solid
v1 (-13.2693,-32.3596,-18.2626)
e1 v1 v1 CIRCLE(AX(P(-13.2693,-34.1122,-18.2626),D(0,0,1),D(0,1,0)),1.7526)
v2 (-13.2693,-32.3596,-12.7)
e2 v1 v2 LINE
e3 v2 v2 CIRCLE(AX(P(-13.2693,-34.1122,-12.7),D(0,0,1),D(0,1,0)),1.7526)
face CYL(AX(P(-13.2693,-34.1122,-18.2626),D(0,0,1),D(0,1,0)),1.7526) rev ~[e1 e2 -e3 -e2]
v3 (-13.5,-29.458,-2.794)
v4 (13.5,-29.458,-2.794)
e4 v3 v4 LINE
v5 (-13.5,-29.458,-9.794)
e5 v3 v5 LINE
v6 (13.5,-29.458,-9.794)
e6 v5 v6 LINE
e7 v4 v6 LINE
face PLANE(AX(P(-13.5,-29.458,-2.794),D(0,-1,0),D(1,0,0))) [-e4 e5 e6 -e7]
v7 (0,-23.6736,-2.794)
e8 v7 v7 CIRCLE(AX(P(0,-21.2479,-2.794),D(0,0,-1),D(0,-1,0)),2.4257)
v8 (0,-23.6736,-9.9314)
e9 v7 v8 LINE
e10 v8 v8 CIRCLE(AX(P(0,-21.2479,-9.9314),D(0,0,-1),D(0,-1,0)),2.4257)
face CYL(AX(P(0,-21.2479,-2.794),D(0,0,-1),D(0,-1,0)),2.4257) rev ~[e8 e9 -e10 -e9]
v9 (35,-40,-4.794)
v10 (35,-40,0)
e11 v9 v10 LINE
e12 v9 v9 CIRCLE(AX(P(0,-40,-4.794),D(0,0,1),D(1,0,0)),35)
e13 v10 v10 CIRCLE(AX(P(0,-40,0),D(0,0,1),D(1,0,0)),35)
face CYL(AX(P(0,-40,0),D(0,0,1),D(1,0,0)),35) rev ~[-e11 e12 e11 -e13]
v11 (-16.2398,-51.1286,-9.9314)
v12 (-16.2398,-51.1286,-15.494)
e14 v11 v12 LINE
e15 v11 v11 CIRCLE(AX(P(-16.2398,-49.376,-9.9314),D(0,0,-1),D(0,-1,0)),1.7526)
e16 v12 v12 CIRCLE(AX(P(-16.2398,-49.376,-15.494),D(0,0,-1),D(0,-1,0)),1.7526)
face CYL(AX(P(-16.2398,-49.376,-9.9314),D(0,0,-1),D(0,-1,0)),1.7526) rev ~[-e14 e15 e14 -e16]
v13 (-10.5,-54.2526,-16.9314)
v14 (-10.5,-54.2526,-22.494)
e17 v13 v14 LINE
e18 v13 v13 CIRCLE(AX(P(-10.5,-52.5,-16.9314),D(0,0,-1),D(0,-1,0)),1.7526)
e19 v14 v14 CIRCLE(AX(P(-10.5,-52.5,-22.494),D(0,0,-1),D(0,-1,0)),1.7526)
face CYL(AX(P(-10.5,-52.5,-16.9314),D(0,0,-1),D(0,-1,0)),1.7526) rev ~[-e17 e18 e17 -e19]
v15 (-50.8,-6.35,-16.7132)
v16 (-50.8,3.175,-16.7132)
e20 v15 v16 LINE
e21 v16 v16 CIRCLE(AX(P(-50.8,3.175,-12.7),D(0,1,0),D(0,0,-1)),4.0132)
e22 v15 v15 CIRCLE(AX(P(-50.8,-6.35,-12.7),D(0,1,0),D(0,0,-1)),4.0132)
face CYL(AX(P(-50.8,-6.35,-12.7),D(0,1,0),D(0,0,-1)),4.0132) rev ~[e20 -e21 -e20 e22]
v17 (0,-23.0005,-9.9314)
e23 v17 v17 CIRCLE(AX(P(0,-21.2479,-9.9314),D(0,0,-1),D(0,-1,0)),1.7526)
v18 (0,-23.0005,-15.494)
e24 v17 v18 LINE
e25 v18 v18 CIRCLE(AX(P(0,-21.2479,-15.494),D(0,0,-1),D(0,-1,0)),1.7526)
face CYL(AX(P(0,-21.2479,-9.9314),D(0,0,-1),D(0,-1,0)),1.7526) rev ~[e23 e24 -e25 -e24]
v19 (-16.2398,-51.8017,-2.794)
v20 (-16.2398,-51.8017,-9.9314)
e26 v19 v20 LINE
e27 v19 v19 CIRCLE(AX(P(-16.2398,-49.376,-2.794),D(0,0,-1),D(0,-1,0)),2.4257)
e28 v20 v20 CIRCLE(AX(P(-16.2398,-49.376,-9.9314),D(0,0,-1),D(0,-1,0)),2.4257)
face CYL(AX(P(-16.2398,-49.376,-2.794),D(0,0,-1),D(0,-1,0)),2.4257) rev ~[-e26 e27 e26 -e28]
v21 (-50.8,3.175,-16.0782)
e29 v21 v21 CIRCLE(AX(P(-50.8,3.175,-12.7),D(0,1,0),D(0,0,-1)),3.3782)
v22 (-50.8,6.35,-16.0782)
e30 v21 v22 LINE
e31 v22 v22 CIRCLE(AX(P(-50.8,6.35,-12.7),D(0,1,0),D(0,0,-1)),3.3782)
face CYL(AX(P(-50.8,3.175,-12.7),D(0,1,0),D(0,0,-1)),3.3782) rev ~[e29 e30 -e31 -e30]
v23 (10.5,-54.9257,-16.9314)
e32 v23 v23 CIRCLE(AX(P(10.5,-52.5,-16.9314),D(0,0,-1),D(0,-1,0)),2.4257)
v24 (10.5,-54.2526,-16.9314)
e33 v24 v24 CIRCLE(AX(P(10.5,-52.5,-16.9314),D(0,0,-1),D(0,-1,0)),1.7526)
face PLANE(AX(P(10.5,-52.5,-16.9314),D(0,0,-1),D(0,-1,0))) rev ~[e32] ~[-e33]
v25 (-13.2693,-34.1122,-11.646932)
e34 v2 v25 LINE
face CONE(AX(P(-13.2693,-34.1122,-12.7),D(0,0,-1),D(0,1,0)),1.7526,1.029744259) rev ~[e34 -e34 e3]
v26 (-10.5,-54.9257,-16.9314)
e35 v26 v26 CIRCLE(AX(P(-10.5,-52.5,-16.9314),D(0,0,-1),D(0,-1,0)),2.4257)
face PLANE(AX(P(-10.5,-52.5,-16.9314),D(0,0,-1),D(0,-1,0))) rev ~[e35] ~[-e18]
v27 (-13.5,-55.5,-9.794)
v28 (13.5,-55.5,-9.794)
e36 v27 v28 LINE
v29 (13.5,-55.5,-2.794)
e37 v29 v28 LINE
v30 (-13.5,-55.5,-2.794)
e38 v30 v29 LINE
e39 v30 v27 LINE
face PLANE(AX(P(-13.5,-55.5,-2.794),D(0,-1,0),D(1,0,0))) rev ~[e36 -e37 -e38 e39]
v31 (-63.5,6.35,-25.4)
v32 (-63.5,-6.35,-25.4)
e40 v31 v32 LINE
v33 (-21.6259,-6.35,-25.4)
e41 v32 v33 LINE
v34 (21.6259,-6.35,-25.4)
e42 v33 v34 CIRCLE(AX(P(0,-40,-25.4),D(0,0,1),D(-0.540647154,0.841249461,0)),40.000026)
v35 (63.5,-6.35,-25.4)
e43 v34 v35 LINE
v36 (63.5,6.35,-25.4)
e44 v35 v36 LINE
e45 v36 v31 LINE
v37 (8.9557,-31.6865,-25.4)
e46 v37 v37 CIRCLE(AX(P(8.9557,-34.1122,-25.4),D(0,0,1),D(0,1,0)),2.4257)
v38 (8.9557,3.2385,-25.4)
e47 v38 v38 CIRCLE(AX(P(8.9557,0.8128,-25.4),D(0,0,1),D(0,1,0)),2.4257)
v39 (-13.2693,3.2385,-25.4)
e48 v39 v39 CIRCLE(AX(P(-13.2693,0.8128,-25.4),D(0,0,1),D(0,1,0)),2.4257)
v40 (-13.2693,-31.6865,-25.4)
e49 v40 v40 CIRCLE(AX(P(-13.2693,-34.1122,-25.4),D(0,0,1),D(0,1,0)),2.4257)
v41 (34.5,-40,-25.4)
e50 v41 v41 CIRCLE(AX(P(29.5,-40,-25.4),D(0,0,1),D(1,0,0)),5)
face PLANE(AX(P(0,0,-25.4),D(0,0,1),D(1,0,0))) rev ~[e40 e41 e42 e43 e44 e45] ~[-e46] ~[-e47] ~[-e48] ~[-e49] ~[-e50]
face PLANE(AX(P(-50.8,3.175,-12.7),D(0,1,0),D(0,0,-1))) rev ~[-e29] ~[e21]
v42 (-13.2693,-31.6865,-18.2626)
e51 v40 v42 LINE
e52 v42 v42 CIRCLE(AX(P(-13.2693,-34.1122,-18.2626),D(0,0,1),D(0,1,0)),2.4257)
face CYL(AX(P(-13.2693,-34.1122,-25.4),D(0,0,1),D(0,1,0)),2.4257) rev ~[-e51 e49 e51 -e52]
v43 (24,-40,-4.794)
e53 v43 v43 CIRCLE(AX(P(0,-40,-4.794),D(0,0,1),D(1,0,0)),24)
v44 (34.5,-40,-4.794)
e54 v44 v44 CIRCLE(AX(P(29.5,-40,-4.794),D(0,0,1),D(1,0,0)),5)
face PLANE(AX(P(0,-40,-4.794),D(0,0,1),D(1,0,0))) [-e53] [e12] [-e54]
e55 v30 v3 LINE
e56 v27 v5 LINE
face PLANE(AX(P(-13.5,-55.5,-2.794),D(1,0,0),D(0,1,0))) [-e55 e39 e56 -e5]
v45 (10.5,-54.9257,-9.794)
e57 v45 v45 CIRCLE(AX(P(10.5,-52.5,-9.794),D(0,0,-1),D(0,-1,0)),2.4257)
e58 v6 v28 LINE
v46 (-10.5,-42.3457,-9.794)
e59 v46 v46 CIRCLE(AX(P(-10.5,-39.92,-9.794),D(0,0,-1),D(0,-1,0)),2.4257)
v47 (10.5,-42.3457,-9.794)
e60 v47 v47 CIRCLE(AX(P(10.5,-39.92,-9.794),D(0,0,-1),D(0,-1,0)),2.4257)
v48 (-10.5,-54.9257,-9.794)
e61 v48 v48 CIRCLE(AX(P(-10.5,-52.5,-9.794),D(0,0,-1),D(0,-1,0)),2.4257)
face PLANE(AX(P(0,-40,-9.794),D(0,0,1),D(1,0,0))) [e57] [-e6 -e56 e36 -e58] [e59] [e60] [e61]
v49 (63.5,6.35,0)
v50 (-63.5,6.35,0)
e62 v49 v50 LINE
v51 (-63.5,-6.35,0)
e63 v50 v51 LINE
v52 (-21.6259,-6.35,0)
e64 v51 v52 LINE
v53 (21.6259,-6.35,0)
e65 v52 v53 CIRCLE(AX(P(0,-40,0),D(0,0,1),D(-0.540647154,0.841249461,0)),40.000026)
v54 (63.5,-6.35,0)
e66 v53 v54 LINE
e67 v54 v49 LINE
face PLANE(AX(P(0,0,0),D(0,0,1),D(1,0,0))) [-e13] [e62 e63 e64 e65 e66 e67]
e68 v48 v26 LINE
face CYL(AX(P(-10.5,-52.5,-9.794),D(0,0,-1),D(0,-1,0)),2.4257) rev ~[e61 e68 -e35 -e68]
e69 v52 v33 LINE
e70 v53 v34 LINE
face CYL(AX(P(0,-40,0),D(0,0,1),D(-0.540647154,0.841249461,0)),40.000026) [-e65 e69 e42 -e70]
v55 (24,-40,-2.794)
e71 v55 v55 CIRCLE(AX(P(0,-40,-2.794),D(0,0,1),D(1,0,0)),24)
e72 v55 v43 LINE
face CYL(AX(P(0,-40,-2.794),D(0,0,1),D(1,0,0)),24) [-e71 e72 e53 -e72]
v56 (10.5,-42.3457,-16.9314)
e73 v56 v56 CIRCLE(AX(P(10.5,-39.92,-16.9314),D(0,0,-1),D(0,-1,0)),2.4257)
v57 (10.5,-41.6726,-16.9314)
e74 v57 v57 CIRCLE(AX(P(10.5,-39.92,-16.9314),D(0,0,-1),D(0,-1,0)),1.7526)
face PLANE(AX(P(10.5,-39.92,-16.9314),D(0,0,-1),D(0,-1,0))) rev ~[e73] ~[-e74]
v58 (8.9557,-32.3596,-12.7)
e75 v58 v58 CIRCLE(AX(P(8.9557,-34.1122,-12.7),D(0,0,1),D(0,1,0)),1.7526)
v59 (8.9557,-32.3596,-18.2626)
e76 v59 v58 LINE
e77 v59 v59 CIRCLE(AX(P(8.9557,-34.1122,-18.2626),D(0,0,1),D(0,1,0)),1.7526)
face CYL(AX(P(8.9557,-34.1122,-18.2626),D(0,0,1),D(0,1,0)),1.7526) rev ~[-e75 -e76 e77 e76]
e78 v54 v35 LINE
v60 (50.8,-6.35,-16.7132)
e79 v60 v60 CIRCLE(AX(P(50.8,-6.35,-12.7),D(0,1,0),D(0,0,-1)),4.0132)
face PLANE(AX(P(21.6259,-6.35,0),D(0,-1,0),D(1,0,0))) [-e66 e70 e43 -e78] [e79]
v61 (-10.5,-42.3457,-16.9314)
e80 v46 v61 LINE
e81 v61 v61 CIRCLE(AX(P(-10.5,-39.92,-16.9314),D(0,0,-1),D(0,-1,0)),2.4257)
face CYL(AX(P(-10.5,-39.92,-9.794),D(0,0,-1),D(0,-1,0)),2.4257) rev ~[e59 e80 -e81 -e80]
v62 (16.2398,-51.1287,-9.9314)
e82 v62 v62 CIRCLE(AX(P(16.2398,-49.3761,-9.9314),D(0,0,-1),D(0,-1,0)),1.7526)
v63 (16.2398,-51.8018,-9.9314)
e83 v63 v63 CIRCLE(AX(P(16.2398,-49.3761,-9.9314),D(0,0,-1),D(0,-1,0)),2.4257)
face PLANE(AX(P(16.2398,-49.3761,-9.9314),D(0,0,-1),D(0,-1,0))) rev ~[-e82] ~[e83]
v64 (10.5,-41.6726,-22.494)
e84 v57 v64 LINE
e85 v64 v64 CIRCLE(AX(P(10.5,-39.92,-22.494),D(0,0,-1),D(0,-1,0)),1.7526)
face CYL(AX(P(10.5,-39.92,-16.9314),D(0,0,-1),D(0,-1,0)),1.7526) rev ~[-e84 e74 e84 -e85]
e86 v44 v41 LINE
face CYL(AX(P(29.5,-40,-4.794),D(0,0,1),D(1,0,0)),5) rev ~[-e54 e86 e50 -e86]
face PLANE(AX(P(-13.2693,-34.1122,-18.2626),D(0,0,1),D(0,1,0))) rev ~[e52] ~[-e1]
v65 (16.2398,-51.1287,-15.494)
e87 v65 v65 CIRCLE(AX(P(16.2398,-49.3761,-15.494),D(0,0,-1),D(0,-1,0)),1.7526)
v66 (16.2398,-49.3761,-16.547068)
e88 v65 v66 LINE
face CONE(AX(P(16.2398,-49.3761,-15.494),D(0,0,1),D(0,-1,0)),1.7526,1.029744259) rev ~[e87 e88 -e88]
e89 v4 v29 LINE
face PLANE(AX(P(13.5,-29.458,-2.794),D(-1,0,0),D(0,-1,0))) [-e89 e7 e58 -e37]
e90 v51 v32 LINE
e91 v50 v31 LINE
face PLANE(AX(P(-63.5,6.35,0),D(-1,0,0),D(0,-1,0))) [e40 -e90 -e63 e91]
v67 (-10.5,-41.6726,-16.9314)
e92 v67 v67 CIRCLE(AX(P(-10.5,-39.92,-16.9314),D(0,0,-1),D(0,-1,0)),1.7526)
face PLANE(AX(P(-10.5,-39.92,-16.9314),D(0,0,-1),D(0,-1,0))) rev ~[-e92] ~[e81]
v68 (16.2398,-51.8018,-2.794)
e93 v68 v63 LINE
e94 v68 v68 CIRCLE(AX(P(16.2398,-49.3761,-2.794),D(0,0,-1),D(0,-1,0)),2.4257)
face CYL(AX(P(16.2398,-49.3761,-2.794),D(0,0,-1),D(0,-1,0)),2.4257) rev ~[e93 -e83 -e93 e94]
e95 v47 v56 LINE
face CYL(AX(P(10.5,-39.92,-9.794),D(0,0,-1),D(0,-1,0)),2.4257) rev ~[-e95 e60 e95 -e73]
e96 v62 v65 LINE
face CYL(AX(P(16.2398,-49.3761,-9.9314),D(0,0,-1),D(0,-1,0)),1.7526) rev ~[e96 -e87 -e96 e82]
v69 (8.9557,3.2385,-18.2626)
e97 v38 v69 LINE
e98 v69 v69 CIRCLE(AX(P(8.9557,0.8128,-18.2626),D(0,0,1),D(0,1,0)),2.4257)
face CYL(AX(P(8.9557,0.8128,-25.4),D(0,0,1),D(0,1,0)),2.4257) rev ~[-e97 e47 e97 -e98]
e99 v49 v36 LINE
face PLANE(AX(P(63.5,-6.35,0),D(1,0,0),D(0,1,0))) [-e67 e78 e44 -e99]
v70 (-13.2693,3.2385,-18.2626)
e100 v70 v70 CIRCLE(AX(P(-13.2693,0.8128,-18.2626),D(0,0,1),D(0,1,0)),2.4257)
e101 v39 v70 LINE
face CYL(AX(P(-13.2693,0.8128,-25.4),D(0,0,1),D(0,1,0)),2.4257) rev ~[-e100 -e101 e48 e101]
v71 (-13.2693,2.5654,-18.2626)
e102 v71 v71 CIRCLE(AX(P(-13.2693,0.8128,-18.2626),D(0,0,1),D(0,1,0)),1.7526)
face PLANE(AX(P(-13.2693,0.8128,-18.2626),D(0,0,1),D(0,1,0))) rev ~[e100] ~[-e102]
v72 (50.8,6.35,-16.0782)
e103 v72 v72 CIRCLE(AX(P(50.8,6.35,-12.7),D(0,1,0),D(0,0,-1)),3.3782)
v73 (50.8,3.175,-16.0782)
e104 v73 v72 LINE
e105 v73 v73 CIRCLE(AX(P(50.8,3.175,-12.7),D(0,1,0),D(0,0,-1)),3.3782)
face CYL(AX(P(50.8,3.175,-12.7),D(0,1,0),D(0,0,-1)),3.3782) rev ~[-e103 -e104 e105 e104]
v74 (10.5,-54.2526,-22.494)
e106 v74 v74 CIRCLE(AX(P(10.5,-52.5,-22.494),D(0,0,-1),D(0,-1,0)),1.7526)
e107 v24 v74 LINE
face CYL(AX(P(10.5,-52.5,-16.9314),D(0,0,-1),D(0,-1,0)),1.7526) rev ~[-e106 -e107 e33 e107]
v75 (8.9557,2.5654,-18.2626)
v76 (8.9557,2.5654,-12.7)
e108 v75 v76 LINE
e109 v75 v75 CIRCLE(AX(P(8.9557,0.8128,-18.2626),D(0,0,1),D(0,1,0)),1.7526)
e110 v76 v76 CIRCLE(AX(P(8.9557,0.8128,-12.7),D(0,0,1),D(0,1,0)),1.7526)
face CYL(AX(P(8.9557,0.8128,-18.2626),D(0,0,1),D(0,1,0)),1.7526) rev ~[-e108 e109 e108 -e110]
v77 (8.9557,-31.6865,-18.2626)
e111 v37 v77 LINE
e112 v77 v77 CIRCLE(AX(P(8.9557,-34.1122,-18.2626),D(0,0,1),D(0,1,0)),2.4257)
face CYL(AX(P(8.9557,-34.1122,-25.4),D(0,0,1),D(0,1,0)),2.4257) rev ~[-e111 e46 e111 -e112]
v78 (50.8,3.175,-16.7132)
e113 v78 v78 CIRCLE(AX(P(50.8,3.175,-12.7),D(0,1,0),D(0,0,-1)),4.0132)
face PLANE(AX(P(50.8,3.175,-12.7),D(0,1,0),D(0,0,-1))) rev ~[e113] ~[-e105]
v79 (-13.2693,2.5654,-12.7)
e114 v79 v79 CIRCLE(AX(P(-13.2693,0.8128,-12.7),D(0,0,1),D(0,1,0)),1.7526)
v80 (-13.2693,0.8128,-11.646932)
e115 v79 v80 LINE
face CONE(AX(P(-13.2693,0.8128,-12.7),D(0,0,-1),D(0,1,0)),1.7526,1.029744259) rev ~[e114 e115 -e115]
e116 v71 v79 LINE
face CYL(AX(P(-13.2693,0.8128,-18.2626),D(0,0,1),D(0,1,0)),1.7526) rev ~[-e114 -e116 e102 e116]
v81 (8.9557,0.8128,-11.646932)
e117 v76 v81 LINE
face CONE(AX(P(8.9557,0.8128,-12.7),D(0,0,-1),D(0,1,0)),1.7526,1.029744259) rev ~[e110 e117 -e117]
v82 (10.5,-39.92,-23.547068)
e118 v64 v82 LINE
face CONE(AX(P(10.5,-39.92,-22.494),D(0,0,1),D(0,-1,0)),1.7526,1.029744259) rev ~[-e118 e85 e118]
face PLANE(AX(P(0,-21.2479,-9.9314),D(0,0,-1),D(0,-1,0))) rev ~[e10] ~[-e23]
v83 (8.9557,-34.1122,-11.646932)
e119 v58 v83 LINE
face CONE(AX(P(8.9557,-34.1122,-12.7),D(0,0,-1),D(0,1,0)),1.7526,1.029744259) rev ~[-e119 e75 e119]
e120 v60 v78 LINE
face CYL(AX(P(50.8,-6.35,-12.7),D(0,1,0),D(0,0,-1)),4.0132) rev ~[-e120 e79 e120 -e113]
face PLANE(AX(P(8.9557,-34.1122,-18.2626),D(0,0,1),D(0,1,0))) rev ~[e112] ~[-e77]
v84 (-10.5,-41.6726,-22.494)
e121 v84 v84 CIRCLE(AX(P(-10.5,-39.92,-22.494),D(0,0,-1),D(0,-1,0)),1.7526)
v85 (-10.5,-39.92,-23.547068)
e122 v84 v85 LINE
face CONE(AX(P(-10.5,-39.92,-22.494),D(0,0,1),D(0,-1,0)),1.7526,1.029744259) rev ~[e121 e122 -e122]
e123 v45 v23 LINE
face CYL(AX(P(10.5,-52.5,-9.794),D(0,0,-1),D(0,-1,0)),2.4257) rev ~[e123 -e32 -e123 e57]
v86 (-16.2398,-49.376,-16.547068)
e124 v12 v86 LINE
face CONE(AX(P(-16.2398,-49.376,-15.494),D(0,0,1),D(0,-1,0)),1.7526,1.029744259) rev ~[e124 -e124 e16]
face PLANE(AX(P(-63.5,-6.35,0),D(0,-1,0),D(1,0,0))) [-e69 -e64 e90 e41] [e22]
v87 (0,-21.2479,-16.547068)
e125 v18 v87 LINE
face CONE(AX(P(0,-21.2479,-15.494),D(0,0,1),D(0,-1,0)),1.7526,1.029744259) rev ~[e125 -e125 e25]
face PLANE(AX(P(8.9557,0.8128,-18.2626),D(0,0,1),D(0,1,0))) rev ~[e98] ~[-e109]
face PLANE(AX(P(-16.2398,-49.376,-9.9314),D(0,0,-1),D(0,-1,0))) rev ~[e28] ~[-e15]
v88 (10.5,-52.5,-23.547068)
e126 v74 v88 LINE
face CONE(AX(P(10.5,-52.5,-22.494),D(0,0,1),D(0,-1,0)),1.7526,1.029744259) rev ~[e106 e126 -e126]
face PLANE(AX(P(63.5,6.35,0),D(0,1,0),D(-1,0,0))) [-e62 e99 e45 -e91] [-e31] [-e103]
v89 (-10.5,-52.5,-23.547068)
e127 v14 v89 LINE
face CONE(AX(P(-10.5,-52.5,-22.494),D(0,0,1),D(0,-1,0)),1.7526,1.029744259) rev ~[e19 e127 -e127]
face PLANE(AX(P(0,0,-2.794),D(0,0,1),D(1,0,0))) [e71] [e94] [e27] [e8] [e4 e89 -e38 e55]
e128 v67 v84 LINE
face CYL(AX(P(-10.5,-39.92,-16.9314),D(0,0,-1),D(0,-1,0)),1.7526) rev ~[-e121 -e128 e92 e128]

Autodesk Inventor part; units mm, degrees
ref_plane "YZ Plane" through (0, 0, 0) normal (1, 0, 0) x (0, 1, 0)
ref_plane "XZ Plane" through (0, 0, 0) normal (0, 1, 0) x (-1, 0, 0)
ref_plane "XY Plane" through (0, 0, 0) normal (0, 0, 1) x (1, 0, 0)
sketch "Sketch1" plane through (0, 0, 0) normal (0, 0, 1) x (1, 0, 0)
  line L0 (63.5, -6.35) -> (63.5, 6.35)
  line L1 (63.5, 6.35) -> (-63.5, 6.35)
  line L2 (-63.5, 6.35) -> (-63.5, -6.35)
  line L3 (0, 0) -> (0, -40) construction
  line L4 (-63.5, -6.35) -> (-21.6259, -6.35)
  line L5 (21.6259, -6.35) -> (63.5, -6.35)
  line L6 (-63.5, -6.35) -> (-6.9307, -0.6931) construction
  line L7 (0, 0) -> (63.5, 6.35) construction
  line L8 (63.5, -6.35) -> (6.9307, -0.6931) construction
  line L9 (0, 0) -> (-63.5, 6.35) construction
  arc A0 (-21.6259, -6.35) -> (21.6259, -6.35) centre (0, -40) ccw
  line L10 (63.5, 0) -> (-63.5, 0) construction
  dimension "d0" = 127
  dimension "d1" = 12.7
  dimension "d2" = 40
  dimension "d31" = 6.35
  dimension "d32" = 40
extrude "Extrusion1" add sketch "Sketch1" against normal blind 25.4
sketch "Sketch2" plane through (0, 0, 0) normal (0, 0, 1) x (1, 0, 0)
  arc A0 (-21.6259, -6.35) -> (21.6259, -6.35) centre (0, -40) ccw projected
  circle A1 centre (0, -40) radius 35
  point P0 (0, 0)
  dimension "d6" = 70
extrude "Extrusion2" cut sketch "Sketch2" against normal blind 2.794
sketch "Sketch3" plane through (0, -40, -2.794) normal (0, 0, 1) x (1, 0, 0)
  circle A0 centre (0, 0) radius 35 projected
  circle A1 centre (0, 0) radius 31
  circle A2 centre (0, 0) radius 24
  point P0 (0, 40)
  dimension "d9" = 62
  dimension "d10" = 48
extrude "Extrusion3" cut sketch "Sketch3" against normal blind 2 contours A0 | A1
sketch "Sketch4" plane through (0, -40, -4.794) normal (0, 0, 1) x (1, 0, 0)
  circle A0 centre (0, 0) radius 35 construction
  line L0 (0, 0) -> (34.925, 0) construction
  circle A1 centre (29.5, 0) radius 5
  point P0 (0, 40)
  dimension "d33" = 29.5
  dimension "d34" = 10
extrude "Extrusion4" cut sketch "Sketch4" against normal through all
sketch "Sketch5" plane through (-63.5, -6.35, 0) normal (0, -1, 0) x (1, 0, 0)
  line L0 (0, 0) -> (0, -25.4) construction
  line L1 (0, -12.7) -> (127, -12.7) construction
  line L2 (127, 0) -> (127, -25.4) construction
  point P0 (63.5, 0)
  point P1 (12.7, -12.7)
  point P2 (114.3, -12.7)
  dimension "d15" = 12.7
  dimension "d16" = 12.7
hole "Hole1" at (-50.8, -6.35, -12.7) at (50.8, -6.35, -12.7) direction (0, 1, 0) diameter 6.7564 end through all counterbore diameter 8.0264 counterbore depth 9.525 clearance for "Hex Head Bolt" size "1/4" standard "Ansi Unified Screw Threads"
sketch "Sketch6" plane through (0, 0, -25.4) normal (0, 0, -1) x (-1, 0, 0)
  circle A0 centre (-29.5, -40) radius 5 projected
  line L0 (63.5, -6.35) -> (63.5, 6.35) projected
  line L1 (63.5, 6.35) -> (-63.5, 6.35) projected
  line L2 (-63.5, 6.35) -> (-63.5, -6.35) projected
  line L3 (-63.5, -6.35) -> (-21.6259, -6.35) projected
  arc A1 (-21.6259, -6.35) -> (21.6259, -6.35) centre (0, -40) ccw projected
  line L4 (21.6259, -6.35) -> (63.5, -6.35) projected
  line L5 (1.1662, -29.21) -> (1.1662, -40.2844) projected
  line L6 (3.1474, -29.21) -> (1.1662, -29.21) projected
  line L7 (3.1474, -40.2844) -> (3.1474, -29.21) projected
  line L8 (3.1474, -40.2844) -> (16.4443, -40.2844) projected
  line L9 (16.4443, -40.2844) -> (16.4443, 3.9878) projected
  arc A2 (16.4443, 3.9878) -> (14.0821, 6.35) centre (14.0821, 3.9878) ccw projected
  line L10 (-9.7685, 6.35) -> (14.0821, 6.35) projected
  arc A3 (-9.7685, 6.35) -> (-12.1307, 3.9878) centre (-9.7685, 3.9878) ccw projected
  line L11 (-12.1307, -40.2844) -> (-12.1307, 3.9878) projected
  line L12 (-12.1307, -40.2844) -> (1.1662, -40.2844) projected
  line L13 (13.4998, -8.7122) -> (13.4998, -24.5872) projected
  line L14 (13.4998, -24.5872) -> (-9.1862, -24.5872) projected
  line L15 (-9.1862, -24.5872) -> (-9.1862, -8.7122) projected
  line L16 (-9.1862, -8.7122) -> (13.4998, -8.7122) projected
  circle A4 centre (-8.9557, 0.8128) radius 1.6256 projected
  circle A5 centre (13.2693, -34.1122) radius 1.6256 projected
  circle A6 centre (13.2693, 0.8128) radius 1.6256 projected
  circle A7 centre (-8.9557, -34.1122) radius 1.6256 projected
  point P0 (0, 0)
hole "Hole2" at (-13.2693, 0.8128, -25.4) at (-13.2693, -34.1122, -25.4) at (8.9557, -34.1122, -25.4) at (8.9557, 0.8128, -25.4) direction (0, 0, 1) diameter 3.5052 depth 12.7 tip angle 118 counterbore diameter 4.8514 counterbore depth 7.1374
sketch "Sketch8" plane through (0, -40, -2.794) normal (0, 0, 1) x (1, 0, 0)
  circle A0 centre (-16.2398, -9.376) radius 1.905 projected
  circle A1 centre (0, 18.7521) radius 1.905 projected
  circle A2 centre (16.2398, -9.3761) radius 1.905 projected
  line L0 (22.8154, -16.5062) -> (18.8007, -20.9651) projected
  line L1 (18.8007, -20.9651) -> (15.8281, -18.2886) projected
  line L2 (15.8281, -18.2886) -> (19.8429, -13.8297) projected
  line L3 (19.8429, -13.8297) -> (22.8154, -16.5062) projected
  line L4 (27.533, 5.9104) -> (28.1602, -0.0568) projected
  line L5 (28.1602, -0.0568) -> (24.1821, -0.4749) projected
  line L6 (24.1821, -0.4749) -> (23.5549, 5.4922) projected
  line L7 (23.5549, 5.4922) -> (27.533, 5.9104) projected
  line L8 (14.0309, 24.4158) -> (18.885, 20.8891) projected
  line L9 (18.885, 20.8891) -> (16.5339, 17.6531) projected
  line L10 (16.5339, 17.6531) -> (11.6798, 21.1798) projected
  line L11 (11.6798, 21.1798) -> (14.0309, 24.4158) projected
  line L12 (-8.756, 26.7644) -> (-2.8871, 28.0119) projected
  line L13 (-2.8871, 28.0119) -> (-2.0554, 24.0993) projected
  line L14 (-2.0554, 24.0993) -> (-7.9243, 22.8518) projected
  line L15 (-7.9243, 22.8518) -> (-8.756, 26.7644) projected
  line L16 (-25.7487, 11.4019) -> (-22.7487, 16.5981) projected
  line L17 (-22.7487, 16.5981) -> (-19.2846, 14.5981) projected
  line L18 (-19.2846, 14.5981) -> (-22.2846, 9.4019) projected
  line L19 (-22.2846, 9.4019) -> (-25.7487, 11.4019) projected
  line L20 (-25.7025, -11.5056) -> (-27.5566, -5.7993) projected
  line L21 (-27.5566, -5.7993) -> (-23.7524, -4.5632) projected
  line L22 (-23.7524, -4.5632) -> (-21.8983, -10.2696) projected
  line L23 (-21.8983, -10.2696) -> (-25.7025, -11.5056) projected
  line L24 (-8.648, -26.7995) -> (-14.1293, -24.3591) projected
  line L25 (-14.1293, -24.3591) -> (-12.5023, -20.7049) projected
  line L26 (-12.5023, -20.7049) -> (-7.021, -23.1453) projected
  line L27 (-7.021, -23.1453) -> (-8.648, -26.7995) projected
  line L28 (3, -24) -> (3, -28) projected
  line L29 (3, -28) -> (-3, -28) projected
  line L30 (-3, -28) -> (-3, -24) projected
  line L31 (-3, -24) -> (3, -24) projected
  line L32 (-18.8007, -20.9651) -> (-22.8154, -16.5062) projected
  line L33 (-22.8154, -16.5062) -> (-19.8429, -13.8297) projected
  line L34 (-19.8429, -13.8297) -> (-15.8281, -18.2886) projected
  line L35 (-15.8281, -18.2886) -> (-18.8007, -20.9651) projected
  line L36 (-28.1602, -0.0568) -> (-27.533, 5.9104) projected
  line L37 (-27.533, 5.9104) -> (-23.5549, 5.4922) projected
  line L38 (-23.5549, 5.4922) -> (-24.1821, -0.4749) projected
  line L39 (-24.1821, -0.4749) -> (-28.1602, -0.0568) projected
  line L40 (-18.885, 20.8891) -> (-14.0309, 24.4158) projected
  line L41 (-14.0309, 24.4158) -> (-11.6798, 21.1798) projected
  line L42 (-11.6798, 21.1798) -> (-16.5339, 17.6531) projected
  line L43 (-16.5339, 17.6531) -> (-18.885, 20.8891) projected
  line L44 (2.8871, 28.0119) -> (8.756, 26.7644) projected
  line L45 (8.756, 26.7644) -> (7.9243, 22.8518) projected
  line L46 (7.9243, 22.8518) -> (2.0554, 24.0993) projected
  line L47 (2.0554, 24.0993) -> (2.8871, 28.0119) projected
  line L48 (22.7487, 16.5981) -> (25.7487, 11.4019) projected
  line L49 (25.7487, 11.4019) -> (22.2846, 9.4019) projected
  line L50 (22.2846, 9.4019) -> (19.2846, 14.5981) projected
  line L51 (19.2846, 14.5981) -> (22.7487, 16.5981) projected
  line L52 (27.5566, -5.7993) -> (25.7025, -11.5056) projected
  line L53 (25.7025, -11.5056) -> (21.8983, -10.2696) projected
  line L54 (21.8983, -10.2696) -> (23.7524, -4.5632) projected
  line L55 (23.7524, -4.5632) -> (27.5566, -5.7993) projected
  line L56 (14.1293, -24.3591) -> (8.648, -26.7995) projected
  line L57 (8.648, -26.7995) -> (7.021, -23.1453) projected
  line L58 (7.021, -23.1453) -> (12.5023, -20.7049) projected
  line L59 (12.5023, -20.7049) -> (14.1293, -24.3591) projected
  line L60 (5, 5) -> (5, -5) projected
  line L61 (5, -5) -> (-5, -5) projected
  line L62 (-5, -5) -> (-5, 5) projected
  line L63 (-5, 5) -> (5, 5) projected
  circle A3 centre (0, 0) radius 34 projected
  point P0 (0, 40)
hole "Hole3" at (0, -21.2479, -2.794) at (-16.2398, -49.376, -2.794) at (16.2398, -49.3761, -2.794) direction (0, 0, -1) diameter 3.5052 depth 12.7 tip angle 118 counterbore diameter 4.8514 counterbore depth 7.1374
sketch "Sketch10" plane through (0, -40, -2.794) normal (0, 0, 1) x (1, 0, 0)
  line L0 (-4, -4) -> (-4, 4) projected
  line L1 (-4, 4) -> (4, 4) projected
  line L2 (4, 4) -> (4, -4) projected
  line L3 (4, -4) -> (-4, -4) projected
  circle A0 centre (10.5, -12.5) radius 1.1 projected
  circle A1 centre (10.5, 0.08) radius 1.1 projected
  circle A2 centre (-10.5, 0.08) radius 1.1 projected
  circle A3 centre (-10.5, -12.5) radius 1.1 projected
  arc A4 (-12.5, -12.5) -> (-10.5, -14.5) centre (-10.5, -12.5) ccw projected
  line L4 (-10.5, -14.5) -> (10.5, -14.5) projected
  arc A5 (10.5, -14.5) -> (12.5, -12.5) centre (10.5, -12.5) ccw projected
  line L5 (12.5, -12.5) -> (12.5, 7.542) projected
  arc A6 (12.5, 7.542) -> (10.5, 9.542) centre (10.5, 7.542) ccw projected
  line L6 (10.5, 9.542) -> (-10.5, 9.542) projected
  arc A7 (-10.5, 9.542) -> (-12.5, 7.542) centre (-10.5, 7.542) ccw projected
  line L7 (-12.5, 7.542) -> (-12.5, -12.5) projected
  line L8 (-13.5, 10.542) -> (13.5, 10.542)
  circle A8 centre (0, 0) radius 24 projected
  line L9 (-13.5, -15.5) -> (-13.5, 10.542)
  line L10 (-13.5, -15.5) -> (13.5, -15.5)
  line L11 (13.5, 10.542) -> (13.5, -15.5)
  point P0 (0, 40)
  dimension "d54" = 1
  dimension "d55" = 1
  dimension "d56" = 1
  dimension "d57" = 1
ref_plane "Work Plane1" through (0, -40, -9.794) normal (0, 0, 1) x (1, 0, 0)
sketch "Sketch11" plane through (0, -40, -9.794) normal (0, 0, 1) x (1, 0, 0)
  line L0 (-4, -4) -> (-4, 4) projected
  line L1 (-4, 4) -> (4, 4) projected
  line L2 (4, 4) -> (4, -4) projected
  line L3 (4, -4) -> (-4, -4) projected
  circle A0 centre (10.5, -12.5) radius 1.1 projected
  circle A1 centre (10.5, 0.08) radius 1.1 projected
  circle A2 centre (-10.5, 0.08) radius 1.1 projected
  circle A3 centre (-10.5, -12.5) radius 1.1 projected
  arc A4 (-12.5, -12.5) -> (-10.5, -14.5) centre (-10.5, -12.5) ccw projected
  line L4 (-10.5, -14.5) -> (10.5, -14.5) projected
  arc A5 (10.5, -14.5) -> (12.5, -12.5) centre (10.5, -12.5) ccw projected
  line L5 (12.5, -12.5) -> (12.5, 7.542) projected
  arc A6 (12.5, 7.542) -> (10.5, 9.542) centre (10.5, 7.542) ccw projected
  line L6 (10.5, 9.542) -> (-10.5, 9.542) projected
  arc A7 (-10.5, 9.542) -> (-12.5, 7.542) centre (-10.5, 7.542) ccw projected
  line L7 (-12.5, 7.542) -> (-12.5, -12.5) projected
  point P0 (0, 40)
hole "Hole4" at (-10.5, -39.92, -9.794) at (10.5, -39.92, -9.794) at (10.5, -52.5, -9.794) at (-10.5, -52.5, -9.794) direction (0, 0, -1) diameter 3.5052 depth 12.7 tip angle 118 counterbore diameter 4.8514 counterbore depth 7.1374
extrude "Extrusion7" cut sketch "Sketch10" against normal blind 7 contours L0 L1 L2 L3 | A0 | A1 | A2 | A3 | L7 A7 L6 A6 L5 A5 L4 A4 | L8 L11 L10 L9
properties part number "basicMount"
